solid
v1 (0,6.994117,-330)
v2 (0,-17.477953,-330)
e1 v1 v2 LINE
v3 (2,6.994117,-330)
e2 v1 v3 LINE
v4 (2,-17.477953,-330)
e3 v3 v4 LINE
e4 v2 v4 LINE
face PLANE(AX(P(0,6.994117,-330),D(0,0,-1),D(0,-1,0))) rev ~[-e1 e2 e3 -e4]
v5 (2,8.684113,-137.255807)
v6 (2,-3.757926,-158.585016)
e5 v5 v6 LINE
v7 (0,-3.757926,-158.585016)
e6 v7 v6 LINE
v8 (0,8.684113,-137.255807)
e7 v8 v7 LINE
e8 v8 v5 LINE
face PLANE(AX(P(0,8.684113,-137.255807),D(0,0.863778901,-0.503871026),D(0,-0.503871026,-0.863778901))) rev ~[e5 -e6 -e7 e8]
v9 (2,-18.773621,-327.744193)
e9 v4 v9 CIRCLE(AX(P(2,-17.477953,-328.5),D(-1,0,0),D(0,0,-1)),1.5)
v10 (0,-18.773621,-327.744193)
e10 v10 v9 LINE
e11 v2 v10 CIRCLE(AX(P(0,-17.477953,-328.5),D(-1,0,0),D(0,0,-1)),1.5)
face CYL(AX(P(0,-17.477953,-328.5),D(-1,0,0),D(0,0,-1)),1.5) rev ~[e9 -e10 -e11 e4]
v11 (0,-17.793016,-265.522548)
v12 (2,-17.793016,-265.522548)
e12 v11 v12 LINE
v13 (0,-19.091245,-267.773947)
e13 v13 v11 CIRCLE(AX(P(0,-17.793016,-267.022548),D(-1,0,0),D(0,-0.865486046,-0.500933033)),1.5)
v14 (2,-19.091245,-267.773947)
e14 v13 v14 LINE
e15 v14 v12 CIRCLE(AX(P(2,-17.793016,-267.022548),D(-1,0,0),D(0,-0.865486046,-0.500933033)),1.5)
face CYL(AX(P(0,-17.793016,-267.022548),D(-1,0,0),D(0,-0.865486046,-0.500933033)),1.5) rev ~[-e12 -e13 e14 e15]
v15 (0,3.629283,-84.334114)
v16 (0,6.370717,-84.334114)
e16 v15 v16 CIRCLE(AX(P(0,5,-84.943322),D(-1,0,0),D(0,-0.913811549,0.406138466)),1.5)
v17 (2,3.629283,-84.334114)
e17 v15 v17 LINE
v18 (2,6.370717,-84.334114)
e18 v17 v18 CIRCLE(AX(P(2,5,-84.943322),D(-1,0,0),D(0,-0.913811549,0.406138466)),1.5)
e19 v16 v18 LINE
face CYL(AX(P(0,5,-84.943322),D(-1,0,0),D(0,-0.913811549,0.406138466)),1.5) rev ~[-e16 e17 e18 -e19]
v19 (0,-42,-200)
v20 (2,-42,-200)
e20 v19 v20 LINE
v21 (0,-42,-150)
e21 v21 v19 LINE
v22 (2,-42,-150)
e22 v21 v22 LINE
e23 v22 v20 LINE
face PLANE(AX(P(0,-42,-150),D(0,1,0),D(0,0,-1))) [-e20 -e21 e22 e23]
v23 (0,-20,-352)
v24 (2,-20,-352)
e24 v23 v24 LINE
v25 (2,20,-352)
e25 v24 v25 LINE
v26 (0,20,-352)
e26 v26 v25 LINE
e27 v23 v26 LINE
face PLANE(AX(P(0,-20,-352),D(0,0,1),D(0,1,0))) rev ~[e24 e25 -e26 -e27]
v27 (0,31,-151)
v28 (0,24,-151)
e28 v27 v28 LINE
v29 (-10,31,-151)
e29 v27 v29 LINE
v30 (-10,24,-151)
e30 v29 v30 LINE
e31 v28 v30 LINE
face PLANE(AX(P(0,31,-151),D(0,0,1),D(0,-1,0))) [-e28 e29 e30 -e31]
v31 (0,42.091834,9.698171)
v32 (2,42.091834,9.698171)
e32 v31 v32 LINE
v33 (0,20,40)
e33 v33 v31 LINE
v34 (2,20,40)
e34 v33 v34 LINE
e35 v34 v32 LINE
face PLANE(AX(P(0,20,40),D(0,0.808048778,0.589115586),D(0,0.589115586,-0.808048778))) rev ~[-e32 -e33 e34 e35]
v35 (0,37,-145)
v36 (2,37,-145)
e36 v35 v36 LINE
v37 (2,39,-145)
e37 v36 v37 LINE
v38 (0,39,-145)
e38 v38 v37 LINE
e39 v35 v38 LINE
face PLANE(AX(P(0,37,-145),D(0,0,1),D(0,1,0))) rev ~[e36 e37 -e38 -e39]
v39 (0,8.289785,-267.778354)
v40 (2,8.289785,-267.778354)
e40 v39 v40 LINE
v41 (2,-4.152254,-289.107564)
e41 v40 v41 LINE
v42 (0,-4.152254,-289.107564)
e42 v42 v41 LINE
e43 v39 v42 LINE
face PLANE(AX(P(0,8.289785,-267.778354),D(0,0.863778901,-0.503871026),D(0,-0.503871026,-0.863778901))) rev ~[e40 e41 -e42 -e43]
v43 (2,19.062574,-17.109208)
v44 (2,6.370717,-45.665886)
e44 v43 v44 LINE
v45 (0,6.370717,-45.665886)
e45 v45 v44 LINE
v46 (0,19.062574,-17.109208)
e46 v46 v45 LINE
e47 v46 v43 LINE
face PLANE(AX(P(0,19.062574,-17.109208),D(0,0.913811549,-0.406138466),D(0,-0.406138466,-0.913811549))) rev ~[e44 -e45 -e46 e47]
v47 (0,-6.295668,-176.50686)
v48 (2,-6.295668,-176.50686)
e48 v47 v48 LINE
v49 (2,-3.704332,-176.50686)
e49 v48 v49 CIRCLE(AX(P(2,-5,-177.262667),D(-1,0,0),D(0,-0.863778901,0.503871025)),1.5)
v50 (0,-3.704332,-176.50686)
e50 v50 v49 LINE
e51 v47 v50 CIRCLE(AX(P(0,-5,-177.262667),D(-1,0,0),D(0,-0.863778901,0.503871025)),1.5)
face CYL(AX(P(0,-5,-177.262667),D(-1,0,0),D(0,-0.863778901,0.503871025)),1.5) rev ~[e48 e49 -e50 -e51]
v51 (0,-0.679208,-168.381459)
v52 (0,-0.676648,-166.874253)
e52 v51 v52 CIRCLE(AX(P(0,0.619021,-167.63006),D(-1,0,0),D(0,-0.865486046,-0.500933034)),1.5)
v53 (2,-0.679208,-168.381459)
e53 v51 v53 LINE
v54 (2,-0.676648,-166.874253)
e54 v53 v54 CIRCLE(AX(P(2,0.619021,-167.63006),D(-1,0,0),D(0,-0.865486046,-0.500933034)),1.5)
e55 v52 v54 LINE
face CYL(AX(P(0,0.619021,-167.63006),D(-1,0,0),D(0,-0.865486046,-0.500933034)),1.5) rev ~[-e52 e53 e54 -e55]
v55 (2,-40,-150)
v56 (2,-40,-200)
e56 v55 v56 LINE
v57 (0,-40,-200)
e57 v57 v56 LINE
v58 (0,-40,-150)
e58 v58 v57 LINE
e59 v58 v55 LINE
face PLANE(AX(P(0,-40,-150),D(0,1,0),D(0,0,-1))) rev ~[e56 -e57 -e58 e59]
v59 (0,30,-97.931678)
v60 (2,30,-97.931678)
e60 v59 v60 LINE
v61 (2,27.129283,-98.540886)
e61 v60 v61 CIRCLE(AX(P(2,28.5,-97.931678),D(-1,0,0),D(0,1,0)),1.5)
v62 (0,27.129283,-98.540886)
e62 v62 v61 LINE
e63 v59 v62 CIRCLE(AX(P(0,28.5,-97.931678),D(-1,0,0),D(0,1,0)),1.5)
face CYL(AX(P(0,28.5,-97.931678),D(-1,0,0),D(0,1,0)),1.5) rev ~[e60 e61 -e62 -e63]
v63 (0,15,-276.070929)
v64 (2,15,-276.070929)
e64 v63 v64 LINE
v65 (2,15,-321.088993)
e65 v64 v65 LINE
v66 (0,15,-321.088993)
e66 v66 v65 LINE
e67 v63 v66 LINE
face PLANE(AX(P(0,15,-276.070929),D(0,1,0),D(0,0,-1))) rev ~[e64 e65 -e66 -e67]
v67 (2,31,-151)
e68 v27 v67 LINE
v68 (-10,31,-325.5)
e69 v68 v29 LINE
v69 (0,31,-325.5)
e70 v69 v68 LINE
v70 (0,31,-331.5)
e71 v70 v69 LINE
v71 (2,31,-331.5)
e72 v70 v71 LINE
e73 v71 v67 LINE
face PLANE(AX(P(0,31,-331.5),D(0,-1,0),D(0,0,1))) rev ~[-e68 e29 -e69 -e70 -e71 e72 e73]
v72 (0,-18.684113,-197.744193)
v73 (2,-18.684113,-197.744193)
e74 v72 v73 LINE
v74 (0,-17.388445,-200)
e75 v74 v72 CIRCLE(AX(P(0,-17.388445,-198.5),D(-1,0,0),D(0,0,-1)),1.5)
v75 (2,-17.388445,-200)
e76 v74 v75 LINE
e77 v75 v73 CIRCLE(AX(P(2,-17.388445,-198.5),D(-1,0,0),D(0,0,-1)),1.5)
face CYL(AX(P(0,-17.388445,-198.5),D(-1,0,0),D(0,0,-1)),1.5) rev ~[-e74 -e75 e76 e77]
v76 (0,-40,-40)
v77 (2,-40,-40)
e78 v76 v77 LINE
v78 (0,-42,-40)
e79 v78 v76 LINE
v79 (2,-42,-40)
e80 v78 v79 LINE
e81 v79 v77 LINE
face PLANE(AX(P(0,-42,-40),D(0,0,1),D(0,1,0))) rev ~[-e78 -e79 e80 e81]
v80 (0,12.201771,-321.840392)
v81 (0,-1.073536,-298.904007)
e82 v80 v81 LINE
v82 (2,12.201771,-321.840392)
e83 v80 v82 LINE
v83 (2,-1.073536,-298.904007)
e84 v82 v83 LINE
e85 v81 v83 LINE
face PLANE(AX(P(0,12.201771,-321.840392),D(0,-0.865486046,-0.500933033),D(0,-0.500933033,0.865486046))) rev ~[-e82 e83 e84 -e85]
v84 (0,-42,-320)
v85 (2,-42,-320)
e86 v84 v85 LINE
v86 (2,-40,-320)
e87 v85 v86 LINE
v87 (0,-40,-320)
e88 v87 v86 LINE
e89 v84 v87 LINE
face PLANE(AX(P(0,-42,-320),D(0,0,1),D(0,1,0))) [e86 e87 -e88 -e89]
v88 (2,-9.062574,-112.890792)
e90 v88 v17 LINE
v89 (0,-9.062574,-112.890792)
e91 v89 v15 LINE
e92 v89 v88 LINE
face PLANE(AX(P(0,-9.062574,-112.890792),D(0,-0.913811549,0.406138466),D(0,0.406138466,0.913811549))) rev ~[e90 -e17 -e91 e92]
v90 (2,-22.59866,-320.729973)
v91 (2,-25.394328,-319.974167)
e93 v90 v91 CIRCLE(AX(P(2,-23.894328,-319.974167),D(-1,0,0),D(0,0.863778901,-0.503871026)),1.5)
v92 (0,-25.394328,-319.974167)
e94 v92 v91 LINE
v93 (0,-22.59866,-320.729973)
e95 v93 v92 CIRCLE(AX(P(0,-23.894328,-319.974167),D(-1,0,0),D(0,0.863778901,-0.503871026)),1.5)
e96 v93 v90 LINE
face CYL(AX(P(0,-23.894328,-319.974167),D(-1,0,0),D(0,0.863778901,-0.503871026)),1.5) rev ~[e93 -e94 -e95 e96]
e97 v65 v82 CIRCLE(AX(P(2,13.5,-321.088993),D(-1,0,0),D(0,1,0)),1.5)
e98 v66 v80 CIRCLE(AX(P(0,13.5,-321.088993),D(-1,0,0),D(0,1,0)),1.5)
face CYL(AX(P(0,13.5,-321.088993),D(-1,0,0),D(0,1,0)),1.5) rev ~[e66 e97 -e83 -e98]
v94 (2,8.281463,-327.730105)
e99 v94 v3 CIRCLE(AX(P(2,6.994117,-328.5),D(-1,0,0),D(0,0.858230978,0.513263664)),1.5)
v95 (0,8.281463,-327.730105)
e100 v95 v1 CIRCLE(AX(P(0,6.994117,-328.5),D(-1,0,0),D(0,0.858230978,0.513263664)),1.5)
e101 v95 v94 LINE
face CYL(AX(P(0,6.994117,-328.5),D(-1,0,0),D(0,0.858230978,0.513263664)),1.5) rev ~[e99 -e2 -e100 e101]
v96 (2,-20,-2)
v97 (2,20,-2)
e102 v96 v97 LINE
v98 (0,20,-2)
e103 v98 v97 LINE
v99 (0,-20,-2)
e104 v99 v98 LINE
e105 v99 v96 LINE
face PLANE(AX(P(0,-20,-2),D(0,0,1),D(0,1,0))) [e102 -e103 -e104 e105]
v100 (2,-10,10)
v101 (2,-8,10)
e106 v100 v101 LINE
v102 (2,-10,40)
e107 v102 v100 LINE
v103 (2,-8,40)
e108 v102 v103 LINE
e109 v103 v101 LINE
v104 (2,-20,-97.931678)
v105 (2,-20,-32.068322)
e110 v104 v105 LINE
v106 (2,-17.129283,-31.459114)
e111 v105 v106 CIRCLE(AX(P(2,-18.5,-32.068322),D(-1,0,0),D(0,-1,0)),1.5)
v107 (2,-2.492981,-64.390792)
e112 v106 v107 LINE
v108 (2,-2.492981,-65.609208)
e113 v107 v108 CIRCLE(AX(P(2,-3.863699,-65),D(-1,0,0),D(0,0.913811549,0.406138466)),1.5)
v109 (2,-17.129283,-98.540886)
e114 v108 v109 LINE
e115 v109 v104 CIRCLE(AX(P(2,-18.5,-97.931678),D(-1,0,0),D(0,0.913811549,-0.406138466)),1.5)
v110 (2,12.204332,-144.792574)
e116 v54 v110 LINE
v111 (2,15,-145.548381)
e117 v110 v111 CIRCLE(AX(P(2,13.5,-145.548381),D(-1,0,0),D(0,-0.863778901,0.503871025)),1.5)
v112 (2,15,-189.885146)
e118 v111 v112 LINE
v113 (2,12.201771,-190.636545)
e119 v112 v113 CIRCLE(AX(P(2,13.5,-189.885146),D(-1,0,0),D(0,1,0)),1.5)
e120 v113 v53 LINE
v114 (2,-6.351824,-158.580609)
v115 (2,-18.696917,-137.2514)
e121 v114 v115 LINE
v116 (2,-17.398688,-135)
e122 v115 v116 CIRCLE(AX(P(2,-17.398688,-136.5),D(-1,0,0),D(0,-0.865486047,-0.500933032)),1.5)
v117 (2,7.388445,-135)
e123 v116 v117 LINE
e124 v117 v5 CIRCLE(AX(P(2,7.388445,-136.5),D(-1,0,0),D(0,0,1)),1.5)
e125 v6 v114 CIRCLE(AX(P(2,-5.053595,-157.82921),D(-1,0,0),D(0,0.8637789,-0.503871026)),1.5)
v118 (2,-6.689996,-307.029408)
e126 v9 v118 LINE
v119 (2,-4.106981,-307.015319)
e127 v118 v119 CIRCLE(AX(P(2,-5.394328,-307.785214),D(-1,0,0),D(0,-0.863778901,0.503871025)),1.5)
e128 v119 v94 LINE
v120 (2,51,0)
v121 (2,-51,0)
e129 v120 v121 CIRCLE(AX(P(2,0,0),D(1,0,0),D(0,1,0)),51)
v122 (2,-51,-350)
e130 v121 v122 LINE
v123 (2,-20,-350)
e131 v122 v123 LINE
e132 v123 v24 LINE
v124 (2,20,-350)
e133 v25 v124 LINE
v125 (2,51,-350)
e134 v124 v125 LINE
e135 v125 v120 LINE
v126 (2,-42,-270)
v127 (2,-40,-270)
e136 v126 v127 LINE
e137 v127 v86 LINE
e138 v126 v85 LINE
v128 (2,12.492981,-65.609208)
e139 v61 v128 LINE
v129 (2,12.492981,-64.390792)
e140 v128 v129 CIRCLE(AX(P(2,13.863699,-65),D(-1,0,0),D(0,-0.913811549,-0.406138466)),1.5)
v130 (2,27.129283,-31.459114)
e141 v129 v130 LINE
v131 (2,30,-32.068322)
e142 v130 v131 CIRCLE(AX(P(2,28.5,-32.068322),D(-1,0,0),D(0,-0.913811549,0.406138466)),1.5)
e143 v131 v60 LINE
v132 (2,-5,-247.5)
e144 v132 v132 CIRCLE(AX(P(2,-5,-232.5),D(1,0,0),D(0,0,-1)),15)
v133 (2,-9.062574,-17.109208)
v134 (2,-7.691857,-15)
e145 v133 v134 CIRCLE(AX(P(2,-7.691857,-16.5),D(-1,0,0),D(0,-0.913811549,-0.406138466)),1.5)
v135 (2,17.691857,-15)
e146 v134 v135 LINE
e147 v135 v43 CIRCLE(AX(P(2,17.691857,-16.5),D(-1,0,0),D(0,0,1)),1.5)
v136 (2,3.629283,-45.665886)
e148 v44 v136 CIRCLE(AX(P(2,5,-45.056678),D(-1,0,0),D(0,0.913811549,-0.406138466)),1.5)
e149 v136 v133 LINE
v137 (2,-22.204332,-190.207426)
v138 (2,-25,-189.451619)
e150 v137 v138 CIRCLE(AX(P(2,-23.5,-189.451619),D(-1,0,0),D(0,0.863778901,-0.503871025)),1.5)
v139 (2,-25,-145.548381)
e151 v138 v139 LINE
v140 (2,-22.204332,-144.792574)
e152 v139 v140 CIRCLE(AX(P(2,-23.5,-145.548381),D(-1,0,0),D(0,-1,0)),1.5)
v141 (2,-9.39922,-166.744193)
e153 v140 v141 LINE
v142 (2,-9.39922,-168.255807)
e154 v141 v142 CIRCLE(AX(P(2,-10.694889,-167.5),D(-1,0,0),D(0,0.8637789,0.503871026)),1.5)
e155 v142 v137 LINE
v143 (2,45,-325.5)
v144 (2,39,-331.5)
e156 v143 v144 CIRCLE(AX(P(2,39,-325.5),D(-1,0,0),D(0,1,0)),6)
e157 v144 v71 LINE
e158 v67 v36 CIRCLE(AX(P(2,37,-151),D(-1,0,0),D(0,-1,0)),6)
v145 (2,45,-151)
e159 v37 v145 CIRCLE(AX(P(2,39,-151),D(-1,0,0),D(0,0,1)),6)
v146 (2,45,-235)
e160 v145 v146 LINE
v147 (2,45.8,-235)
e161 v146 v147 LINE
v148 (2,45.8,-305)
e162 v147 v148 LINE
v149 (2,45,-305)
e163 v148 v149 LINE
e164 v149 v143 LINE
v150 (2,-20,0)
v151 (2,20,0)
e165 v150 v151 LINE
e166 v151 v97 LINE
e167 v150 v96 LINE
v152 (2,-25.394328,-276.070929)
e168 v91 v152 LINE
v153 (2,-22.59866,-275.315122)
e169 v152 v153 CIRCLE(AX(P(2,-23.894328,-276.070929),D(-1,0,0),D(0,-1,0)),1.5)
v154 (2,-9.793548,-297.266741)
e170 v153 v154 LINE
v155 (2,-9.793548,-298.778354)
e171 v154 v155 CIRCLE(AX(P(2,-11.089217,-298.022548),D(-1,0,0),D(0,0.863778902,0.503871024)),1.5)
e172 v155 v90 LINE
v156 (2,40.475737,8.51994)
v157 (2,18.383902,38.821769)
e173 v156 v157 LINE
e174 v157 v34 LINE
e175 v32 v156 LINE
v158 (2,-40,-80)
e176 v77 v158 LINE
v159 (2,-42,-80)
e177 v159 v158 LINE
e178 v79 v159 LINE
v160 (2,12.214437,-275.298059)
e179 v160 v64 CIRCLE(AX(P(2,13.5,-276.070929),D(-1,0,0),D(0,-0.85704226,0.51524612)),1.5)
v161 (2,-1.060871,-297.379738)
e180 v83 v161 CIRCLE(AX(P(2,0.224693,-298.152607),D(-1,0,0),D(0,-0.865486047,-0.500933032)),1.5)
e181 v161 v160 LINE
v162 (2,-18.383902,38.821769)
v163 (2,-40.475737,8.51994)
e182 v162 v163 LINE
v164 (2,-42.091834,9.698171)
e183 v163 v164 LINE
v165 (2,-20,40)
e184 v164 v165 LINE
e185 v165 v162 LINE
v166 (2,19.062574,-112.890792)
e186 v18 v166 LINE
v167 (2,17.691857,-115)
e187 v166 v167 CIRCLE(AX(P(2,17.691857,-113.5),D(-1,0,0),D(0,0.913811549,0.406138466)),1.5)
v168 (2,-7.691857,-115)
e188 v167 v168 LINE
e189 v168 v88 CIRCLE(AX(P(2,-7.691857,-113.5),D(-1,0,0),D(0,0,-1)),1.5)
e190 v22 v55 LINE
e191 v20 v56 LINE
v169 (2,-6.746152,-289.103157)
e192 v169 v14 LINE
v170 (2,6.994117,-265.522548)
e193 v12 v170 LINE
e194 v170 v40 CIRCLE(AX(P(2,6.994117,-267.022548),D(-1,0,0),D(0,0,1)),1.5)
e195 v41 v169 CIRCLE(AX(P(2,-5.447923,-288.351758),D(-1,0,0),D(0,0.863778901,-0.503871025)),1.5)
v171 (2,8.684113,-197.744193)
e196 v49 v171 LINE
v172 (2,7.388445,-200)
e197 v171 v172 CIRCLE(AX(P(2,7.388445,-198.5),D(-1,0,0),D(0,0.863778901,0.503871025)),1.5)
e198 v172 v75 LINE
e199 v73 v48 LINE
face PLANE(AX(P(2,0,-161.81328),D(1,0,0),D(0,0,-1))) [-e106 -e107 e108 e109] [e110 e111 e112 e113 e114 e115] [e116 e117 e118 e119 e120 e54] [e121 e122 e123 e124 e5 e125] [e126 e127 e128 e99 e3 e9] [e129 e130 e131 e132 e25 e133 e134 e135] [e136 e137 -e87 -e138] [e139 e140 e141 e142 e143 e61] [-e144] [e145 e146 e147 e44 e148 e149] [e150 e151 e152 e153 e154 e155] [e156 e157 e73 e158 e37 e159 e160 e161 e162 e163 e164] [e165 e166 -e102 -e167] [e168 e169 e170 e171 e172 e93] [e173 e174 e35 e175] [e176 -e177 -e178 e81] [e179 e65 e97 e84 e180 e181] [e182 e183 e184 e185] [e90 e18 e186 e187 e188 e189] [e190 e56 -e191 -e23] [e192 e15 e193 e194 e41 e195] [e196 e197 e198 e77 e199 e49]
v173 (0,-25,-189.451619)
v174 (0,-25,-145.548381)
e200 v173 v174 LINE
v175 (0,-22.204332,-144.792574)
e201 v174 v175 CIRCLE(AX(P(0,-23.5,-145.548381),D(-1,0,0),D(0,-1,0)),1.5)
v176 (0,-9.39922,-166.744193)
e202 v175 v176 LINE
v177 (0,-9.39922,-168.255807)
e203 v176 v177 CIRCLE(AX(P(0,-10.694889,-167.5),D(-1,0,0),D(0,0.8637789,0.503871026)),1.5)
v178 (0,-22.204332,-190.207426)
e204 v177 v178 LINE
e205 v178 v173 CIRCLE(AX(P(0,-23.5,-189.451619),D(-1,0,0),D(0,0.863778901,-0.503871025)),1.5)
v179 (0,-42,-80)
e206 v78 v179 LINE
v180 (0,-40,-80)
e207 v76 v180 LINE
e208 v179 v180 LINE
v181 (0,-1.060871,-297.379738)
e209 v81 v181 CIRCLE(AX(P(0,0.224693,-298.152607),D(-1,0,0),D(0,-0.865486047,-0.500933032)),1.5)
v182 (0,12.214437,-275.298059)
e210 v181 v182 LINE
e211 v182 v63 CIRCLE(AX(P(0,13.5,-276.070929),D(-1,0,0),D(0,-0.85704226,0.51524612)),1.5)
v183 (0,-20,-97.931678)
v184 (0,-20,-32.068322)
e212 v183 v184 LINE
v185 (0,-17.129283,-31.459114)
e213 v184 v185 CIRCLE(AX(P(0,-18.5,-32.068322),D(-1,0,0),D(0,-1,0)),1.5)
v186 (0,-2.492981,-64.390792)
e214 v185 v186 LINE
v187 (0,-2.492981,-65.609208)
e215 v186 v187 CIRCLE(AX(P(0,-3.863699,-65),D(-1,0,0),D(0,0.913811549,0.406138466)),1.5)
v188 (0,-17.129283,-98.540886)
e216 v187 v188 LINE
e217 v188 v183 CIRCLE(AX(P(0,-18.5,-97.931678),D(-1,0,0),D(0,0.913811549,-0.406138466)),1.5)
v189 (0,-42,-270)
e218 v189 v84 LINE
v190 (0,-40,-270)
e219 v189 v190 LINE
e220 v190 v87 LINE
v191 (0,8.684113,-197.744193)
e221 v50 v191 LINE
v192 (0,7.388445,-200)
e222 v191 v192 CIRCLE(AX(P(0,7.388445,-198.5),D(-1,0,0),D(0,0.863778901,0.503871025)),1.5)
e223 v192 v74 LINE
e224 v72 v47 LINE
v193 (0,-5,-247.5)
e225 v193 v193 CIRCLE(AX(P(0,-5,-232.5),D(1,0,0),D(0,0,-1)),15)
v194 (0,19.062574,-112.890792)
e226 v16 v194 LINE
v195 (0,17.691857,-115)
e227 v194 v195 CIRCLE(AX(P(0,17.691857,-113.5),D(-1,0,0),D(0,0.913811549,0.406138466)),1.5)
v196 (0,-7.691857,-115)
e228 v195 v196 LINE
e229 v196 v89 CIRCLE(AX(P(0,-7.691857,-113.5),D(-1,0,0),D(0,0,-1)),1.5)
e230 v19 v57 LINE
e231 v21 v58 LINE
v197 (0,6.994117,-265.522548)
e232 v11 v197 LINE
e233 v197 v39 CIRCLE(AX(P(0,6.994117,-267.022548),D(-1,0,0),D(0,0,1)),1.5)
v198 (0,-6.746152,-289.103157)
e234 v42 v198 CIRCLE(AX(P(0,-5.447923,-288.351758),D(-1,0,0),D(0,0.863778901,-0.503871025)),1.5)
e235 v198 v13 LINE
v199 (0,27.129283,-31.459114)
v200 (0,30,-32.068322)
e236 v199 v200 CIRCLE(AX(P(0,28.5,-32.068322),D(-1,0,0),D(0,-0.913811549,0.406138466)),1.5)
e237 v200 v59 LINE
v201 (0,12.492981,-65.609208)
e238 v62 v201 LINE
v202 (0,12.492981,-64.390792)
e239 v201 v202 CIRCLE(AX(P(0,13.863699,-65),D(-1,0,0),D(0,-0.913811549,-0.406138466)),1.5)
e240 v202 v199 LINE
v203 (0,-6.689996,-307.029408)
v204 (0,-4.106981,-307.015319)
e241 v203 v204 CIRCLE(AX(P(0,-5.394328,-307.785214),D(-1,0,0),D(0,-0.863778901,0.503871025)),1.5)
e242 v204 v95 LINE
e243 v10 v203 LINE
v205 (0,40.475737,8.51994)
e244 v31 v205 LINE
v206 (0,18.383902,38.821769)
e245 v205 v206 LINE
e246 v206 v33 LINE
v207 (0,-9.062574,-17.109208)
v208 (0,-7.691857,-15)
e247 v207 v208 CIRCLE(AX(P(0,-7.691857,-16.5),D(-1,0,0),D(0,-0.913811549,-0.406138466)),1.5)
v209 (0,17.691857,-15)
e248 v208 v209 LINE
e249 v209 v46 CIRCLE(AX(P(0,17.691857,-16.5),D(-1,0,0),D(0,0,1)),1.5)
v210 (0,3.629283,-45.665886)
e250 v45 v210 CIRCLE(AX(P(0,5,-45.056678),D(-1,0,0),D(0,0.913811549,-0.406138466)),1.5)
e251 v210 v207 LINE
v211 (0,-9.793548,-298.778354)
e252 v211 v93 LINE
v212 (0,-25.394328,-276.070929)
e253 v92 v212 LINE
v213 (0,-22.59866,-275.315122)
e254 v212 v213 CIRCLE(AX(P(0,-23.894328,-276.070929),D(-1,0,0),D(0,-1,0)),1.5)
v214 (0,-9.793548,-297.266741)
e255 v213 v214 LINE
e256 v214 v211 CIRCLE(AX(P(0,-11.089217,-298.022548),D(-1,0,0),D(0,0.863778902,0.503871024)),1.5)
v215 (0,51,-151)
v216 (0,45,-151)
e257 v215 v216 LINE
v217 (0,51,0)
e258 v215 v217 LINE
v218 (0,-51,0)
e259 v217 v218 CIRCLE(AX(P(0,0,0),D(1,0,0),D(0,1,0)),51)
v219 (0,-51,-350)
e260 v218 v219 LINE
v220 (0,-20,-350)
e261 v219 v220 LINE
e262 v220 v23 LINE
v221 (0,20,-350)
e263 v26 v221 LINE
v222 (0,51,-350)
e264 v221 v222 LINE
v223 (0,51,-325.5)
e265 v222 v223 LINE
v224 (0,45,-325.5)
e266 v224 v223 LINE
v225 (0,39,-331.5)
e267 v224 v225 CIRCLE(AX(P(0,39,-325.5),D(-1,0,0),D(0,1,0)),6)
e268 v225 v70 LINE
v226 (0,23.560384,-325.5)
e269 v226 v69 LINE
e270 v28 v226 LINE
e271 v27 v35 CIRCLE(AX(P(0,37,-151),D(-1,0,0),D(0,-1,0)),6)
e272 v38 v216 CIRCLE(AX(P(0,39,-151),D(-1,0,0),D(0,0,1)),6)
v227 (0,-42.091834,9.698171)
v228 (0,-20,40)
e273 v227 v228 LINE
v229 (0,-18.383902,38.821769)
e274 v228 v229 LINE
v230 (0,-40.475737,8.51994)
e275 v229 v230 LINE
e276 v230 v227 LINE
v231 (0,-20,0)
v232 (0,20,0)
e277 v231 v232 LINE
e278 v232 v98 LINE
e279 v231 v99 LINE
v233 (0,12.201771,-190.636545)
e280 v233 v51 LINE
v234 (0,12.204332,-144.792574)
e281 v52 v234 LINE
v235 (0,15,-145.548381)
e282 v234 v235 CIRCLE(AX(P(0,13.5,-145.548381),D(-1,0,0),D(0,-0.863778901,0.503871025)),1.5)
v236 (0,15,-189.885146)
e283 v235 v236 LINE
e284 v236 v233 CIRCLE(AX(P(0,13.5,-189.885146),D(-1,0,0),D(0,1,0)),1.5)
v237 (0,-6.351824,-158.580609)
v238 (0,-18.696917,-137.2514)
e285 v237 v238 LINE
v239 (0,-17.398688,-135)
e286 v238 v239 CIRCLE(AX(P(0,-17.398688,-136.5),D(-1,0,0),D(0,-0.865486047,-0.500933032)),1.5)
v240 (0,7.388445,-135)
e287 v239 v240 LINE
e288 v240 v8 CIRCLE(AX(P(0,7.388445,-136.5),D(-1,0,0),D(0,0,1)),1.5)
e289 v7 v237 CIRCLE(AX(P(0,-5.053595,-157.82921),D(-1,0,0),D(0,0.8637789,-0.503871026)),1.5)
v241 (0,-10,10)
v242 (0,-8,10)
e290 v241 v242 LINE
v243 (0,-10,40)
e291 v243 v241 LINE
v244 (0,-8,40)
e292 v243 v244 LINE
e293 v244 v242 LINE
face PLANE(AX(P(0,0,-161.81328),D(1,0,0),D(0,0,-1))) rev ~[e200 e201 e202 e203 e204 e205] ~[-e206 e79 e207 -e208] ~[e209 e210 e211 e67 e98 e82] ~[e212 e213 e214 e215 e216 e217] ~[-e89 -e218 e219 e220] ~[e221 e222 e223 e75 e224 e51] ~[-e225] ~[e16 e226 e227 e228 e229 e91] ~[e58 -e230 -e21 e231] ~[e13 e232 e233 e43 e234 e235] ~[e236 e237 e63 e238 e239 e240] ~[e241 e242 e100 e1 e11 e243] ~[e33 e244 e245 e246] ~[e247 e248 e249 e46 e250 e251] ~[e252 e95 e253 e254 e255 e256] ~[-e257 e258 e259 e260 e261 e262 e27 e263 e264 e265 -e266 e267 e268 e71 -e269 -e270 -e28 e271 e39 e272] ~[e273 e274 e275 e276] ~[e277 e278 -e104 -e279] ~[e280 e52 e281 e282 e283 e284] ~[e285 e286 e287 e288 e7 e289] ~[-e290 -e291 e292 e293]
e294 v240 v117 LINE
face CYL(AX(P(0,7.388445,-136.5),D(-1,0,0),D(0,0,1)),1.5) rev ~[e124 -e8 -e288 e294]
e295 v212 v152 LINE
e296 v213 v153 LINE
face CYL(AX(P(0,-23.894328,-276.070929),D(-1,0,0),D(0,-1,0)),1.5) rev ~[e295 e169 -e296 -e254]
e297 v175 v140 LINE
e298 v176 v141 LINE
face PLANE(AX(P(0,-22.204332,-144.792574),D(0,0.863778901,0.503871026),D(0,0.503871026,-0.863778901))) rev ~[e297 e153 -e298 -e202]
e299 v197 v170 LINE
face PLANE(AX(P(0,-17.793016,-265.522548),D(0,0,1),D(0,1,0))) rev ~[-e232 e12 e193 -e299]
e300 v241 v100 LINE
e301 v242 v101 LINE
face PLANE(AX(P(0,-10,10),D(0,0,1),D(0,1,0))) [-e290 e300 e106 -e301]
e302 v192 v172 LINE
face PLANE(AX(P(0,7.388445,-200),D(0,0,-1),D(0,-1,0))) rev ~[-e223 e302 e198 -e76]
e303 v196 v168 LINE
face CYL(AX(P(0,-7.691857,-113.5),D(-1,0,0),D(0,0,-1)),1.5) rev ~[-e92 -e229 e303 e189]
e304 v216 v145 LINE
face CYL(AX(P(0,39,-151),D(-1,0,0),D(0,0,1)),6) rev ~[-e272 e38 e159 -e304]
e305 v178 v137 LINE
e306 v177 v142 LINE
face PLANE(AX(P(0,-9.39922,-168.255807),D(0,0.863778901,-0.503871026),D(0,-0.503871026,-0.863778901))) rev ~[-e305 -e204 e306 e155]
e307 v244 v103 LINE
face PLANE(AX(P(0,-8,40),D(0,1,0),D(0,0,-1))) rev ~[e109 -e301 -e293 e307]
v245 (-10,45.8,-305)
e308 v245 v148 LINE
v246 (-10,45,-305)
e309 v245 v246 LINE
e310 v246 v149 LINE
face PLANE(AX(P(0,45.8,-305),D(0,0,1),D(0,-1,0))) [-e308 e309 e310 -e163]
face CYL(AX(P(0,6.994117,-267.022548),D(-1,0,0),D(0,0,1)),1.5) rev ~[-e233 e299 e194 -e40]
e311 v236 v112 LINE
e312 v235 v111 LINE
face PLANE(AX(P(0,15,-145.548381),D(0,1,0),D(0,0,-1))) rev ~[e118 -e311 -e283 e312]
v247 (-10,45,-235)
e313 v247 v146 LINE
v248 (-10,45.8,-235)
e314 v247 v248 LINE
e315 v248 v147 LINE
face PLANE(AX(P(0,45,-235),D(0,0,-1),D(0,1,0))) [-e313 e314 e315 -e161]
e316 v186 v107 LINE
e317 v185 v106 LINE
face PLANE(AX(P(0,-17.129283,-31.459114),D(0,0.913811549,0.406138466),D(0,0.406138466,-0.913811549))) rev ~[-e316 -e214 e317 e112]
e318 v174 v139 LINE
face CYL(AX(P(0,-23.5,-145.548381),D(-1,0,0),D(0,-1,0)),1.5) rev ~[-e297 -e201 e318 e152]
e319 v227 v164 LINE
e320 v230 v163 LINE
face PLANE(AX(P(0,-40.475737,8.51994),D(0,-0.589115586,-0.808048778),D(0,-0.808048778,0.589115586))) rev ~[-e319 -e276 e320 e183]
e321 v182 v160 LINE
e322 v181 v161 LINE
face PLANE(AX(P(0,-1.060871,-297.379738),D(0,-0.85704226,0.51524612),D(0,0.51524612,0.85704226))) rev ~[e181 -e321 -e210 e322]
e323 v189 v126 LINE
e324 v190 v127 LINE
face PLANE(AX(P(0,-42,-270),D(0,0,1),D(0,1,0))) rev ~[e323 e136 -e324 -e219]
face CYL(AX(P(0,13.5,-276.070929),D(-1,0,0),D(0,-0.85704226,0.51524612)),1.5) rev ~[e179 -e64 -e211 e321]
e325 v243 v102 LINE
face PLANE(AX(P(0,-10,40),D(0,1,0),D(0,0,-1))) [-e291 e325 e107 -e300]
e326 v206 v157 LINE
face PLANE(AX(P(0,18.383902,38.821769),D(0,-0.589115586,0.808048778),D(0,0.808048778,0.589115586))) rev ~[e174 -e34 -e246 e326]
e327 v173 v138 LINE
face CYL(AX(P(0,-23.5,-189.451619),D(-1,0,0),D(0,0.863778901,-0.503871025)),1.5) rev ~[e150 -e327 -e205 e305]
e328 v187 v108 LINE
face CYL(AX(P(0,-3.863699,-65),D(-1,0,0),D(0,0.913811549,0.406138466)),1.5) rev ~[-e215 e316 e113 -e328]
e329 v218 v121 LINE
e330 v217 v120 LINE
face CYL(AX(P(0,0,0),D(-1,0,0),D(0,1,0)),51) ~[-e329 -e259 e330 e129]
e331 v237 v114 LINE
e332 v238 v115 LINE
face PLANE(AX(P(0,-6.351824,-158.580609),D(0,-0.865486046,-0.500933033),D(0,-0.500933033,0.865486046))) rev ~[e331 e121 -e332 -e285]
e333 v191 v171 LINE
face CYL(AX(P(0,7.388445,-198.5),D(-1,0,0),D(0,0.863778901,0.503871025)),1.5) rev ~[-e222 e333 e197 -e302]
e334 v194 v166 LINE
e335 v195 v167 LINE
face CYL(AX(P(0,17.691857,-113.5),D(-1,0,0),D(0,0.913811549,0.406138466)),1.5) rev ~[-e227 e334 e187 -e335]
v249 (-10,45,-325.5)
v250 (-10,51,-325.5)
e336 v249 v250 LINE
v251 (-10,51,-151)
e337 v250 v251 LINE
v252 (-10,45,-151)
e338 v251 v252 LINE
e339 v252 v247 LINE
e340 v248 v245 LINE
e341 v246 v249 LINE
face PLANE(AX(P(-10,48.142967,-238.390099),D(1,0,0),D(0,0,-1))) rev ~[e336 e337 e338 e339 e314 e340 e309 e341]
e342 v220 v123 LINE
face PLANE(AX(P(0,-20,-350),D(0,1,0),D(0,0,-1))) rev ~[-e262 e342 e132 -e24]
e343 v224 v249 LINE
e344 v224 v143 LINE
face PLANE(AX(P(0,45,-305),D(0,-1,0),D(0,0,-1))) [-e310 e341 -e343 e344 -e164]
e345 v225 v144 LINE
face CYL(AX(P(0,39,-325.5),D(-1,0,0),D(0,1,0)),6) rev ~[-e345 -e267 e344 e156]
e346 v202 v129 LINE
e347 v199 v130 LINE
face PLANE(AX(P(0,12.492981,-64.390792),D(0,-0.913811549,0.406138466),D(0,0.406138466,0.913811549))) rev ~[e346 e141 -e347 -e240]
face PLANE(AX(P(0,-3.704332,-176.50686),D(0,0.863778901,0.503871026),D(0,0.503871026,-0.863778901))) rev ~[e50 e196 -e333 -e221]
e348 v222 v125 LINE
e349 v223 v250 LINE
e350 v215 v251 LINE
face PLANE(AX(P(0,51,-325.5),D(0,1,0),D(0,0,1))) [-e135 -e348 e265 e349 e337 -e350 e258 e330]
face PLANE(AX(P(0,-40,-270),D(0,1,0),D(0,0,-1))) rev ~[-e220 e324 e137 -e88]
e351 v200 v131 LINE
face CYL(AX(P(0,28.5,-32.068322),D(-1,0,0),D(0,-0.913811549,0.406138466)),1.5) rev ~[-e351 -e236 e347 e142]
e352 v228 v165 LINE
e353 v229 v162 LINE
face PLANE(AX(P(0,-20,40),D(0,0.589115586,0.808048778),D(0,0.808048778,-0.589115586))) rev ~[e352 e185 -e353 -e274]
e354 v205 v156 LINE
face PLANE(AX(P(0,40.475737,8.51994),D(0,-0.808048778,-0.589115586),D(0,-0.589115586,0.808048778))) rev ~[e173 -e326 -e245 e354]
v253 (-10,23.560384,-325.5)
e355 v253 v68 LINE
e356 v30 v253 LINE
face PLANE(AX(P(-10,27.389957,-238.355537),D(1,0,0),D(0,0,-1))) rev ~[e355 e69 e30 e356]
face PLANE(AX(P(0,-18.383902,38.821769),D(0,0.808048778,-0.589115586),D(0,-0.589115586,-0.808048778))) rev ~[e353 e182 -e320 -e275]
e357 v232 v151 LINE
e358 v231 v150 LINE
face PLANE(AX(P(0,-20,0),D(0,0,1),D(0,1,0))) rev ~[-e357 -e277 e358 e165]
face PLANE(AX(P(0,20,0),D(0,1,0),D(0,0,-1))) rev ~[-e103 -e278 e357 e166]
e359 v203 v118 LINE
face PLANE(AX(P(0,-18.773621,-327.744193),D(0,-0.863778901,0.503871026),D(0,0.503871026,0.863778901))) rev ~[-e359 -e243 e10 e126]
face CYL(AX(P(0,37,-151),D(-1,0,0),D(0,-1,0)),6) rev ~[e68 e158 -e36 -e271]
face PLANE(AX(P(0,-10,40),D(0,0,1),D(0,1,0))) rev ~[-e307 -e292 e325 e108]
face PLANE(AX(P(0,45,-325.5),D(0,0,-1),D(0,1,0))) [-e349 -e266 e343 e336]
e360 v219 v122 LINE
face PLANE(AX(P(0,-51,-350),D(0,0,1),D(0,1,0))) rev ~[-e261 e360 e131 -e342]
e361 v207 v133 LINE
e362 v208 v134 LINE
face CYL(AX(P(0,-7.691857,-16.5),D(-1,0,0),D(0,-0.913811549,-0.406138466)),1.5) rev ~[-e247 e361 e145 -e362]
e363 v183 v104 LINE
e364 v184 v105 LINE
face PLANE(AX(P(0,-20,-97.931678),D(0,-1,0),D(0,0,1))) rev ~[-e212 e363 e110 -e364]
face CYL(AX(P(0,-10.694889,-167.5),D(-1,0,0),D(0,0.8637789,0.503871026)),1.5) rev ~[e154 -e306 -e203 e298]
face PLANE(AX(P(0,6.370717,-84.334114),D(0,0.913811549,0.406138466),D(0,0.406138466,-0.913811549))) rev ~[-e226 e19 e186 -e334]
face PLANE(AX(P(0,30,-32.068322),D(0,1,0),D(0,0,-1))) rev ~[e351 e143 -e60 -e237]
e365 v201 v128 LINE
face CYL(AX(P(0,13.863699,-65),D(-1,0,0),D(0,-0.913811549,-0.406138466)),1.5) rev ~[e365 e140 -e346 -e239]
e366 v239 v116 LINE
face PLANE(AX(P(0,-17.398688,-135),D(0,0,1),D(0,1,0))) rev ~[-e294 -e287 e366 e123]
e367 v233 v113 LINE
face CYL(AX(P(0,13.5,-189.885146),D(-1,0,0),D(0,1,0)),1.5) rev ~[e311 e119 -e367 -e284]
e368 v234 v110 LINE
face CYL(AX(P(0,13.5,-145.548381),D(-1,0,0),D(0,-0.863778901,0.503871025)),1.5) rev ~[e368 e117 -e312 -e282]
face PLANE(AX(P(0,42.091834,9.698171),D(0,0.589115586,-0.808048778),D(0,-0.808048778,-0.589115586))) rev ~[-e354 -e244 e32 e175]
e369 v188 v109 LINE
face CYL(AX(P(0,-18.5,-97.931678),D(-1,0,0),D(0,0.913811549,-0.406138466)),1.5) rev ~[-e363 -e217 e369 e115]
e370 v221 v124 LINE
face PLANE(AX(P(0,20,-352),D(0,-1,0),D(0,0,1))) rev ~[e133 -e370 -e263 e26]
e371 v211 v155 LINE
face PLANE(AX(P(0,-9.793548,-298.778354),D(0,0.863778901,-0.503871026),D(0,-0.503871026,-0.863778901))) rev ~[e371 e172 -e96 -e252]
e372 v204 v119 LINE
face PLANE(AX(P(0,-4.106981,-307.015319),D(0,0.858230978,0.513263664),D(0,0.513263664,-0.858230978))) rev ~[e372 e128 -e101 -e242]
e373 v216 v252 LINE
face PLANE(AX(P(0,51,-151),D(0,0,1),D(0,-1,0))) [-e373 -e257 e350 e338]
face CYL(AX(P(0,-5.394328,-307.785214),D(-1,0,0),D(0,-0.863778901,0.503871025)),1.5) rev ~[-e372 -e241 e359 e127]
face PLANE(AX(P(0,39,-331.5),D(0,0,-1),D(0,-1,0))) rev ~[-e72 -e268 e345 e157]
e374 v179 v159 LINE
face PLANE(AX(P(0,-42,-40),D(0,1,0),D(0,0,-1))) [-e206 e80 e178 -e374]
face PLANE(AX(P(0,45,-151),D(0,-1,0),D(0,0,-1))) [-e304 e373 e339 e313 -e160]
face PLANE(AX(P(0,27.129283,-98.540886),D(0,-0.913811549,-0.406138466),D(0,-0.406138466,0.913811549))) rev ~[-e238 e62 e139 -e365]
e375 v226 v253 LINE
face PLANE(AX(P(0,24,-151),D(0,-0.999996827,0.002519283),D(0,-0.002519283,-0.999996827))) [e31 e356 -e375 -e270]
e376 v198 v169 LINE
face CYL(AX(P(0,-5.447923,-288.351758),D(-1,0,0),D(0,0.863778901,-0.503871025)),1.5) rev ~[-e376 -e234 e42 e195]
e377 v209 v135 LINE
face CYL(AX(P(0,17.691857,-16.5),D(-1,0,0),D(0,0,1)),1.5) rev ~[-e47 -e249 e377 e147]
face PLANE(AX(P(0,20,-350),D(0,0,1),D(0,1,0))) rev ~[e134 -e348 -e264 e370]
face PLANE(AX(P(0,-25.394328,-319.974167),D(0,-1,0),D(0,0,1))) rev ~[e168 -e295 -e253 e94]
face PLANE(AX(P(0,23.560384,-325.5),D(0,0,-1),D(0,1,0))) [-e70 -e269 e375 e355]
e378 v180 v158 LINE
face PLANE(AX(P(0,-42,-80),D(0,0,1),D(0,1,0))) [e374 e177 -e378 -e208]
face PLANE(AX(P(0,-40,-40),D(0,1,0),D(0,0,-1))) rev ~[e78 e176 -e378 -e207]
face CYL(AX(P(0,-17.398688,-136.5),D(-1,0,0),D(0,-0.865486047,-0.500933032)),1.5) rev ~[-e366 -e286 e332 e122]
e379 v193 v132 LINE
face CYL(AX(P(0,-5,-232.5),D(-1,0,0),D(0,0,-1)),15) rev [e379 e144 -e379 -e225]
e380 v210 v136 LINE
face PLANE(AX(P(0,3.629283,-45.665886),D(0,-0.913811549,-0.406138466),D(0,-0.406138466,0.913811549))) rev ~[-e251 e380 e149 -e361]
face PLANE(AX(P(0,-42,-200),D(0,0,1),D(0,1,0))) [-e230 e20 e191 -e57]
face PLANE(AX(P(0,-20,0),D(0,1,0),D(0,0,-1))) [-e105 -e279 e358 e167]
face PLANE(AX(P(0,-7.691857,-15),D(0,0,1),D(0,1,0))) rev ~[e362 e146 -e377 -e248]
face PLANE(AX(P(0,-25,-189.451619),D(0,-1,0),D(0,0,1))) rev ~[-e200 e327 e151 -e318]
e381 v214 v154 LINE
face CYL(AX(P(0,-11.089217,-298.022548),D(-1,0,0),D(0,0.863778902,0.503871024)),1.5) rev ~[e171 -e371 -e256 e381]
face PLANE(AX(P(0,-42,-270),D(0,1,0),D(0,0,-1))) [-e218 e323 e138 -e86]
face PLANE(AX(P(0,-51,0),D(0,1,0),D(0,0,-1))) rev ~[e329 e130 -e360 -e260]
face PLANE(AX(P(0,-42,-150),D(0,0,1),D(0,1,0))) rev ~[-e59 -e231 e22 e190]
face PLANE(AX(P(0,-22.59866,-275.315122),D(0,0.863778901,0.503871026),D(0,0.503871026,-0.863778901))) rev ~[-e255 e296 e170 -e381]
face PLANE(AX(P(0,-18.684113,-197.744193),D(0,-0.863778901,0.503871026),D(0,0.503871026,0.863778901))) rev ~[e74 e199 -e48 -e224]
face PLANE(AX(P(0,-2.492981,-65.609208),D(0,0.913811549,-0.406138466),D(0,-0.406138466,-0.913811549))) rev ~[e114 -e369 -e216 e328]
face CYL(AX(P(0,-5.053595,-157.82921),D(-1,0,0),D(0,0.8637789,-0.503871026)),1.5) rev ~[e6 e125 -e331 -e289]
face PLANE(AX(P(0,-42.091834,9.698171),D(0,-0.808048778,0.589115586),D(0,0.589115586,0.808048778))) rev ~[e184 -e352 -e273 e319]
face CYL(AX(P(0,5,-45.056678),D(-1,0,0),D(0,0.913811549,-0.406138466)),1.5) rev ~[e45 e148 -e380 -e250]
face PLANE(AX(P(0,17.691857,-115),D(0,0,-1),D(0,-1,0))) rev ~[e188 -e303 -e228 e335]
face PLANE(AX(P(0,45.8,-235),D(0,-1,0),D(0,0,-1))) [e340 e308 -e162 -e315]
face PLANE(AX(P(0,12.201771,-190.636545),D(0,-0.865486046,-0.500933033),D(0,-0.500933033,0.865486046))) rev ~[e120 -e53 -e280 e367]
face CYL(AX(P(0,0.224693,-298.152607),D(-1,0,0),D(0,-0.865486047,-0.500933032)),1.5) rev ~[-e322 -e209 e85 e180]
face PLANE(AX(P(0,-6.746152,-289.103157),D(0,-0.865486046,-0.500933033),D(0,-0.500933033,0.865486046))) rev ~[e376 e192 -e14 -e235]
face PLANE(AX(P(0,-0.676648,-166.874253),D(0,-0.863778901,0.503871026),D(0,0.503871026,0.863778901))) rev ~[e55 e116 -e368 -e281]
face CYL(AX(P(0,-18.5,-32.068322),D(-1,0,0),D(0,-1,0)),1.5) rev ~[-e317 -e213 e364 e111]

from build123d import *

# Parameters (mm, degrees)
SKETCH_1_W      = 2
SKETCH_1_H      = 40
SKETCH_1_W_2    = 40
SKETCH_1_H_2    = 2
SKETCH_1_W_3    = 50
SKETCH_1_R      = 15
SKETCH_1_W_4    = 30
EXTRUDE_3_DEPTH = 2
EXTRUDE_4_DEPTH = 10


with BuildPart() as part:
    # 草图1 → 凸台-拉伸3 (new body)
    with BuildSketch(Plane(origin=(0, 0, 0), x_dir=(0, 0, -1), z_dir=(1, 0, 0))):
        with BuildLine():
            Line((350, 51), (0, 51))
            ThreePointArc((0, 51), (-51, 0), (0, -51))
            Line((0, -51), (350, -51))
            Line((350, -51), (350, -20))
            Line((350, -20), (352, -20))
            Line((352, -20), (352, 20))
            Line((352, 20), (350, 20))
            Line((350, 20), (350, 51))
        make_face()
        with BuildLine():
            ThreePointArc((145, 39), (146.757359313, 43.242640687), (151, 45))
            Line((151, 45), (235, 45))
            Line((235, 45), (235, 45.8))
            Line((235, 45.8), (305, 45.8))
            Line((305, 45.8), (305, 45))
            Line((305, 45), (325.5, 45))
            ThreePointArc((325.5, 45), (329.742640687, 43.242640687), (331.5, 39))
            Line((331.5, 39), (331.5, 31))
            Line((331.5, 31), (151, 31))
            ThreePointArc((151, 31), (146.757359313, 32.757359313), (145, 37))
            Line((145, 37), (145, 39))
        make_face(mode=Mode.SUBTRACT)
        with Locations((1, 0)):
            Rectangle(SKETCH_1_W, SKETCH_1_H, mode=Mode.SUBTRACT)
        with Locations((60, -41)):
            Rectangle(SKETCH_1_W_2, SKETCH_1_H_2, mode=Mode.SUBTRACT)
        with BuildLine():
            Line((97.931678324, -20), (32.068321676, -20))
            ThreePointArc((32.068321676, -20), (30.600998265, -18.811387231), (31.459113977, -17.129282677))
            Line((31.459113977, -17.129282677), (64.390792301, -2.4929812))
            ThreePointArc((64.390792301, -2.4929812), (65, -2.363698523), (65.609207699, -2.4929812))
            Line((65.609207699, -2.4929812), (98.540886023, -17.129282677))
            ThreePointArc((98.540886023, -17.129282677), (99.399001735, -18.811387231), (97.931678324, -20))
        make_face(mode=Mode.SUBTRACT)
        with BuildLine():
            Line((135, -17.39868764), (135, 7.388444501))
            ThreePointArc((135, 7.388444501), (135.75290891, 8.68915773), (137.255806538, 8.684112853))
            Line((137.255806538, 8.684112853), (158.585016393, -3.757926229))
            ThreePointArc((158.585016393, -3.757926229), (159.329207689, -5.056143052), (158.580609404, -6.35182365))
            Line((158.580609404, -6.35182365), (137.25139955, -18.69691671))
            ThreePointArc((137.25139955, -18.69691671), (135.750700102, -18.698129698), (135, -17.39868764))
        make_face(mode=Mode.SUBTRACT)
        with Locations((175, -41)):
            Rectangle(SKETCH_1_W_3, SKETCH_1_H_2, mode=Mode.SUBTRACT)
        with Locations((295, -41)):
            Rectangle(SKETCH_1_W_3, SKETCH_1_H_2, mode=Mode.SUBTRACT)
        with BuildLine():
            Line((189.451619145, -25), (145.548380855, -25))
            ThreePointArc((145.548380855, -25), (144.100364535, -23.891469969), (144.792574317, -22.204331649))
            Line((144.792574317, -22.204331649), (166.744193462, -9.399220481))
            ThreePointArc((166.744193462, -9.399220481), (167.5, -9.194888832), (168.255806538, -9.399220481))
            Line((168.255806538, -9.399220481), (190.207425683, -22.204331649))
            ThreePointArc((190.207425683, -22.204331649), (190.899635465, -23.891469969), (189.451619145, -25))
        make_face(mode=Mode.SUBTRACT)
        with BuildLine():
            ThreePointArc((197.744193462, 8.684112853), (199.24709109, 8.68915773), (200, 7.388444501))
            Line((200, 7.388444501), (200, -17.388444501))
            ThreePointArc((200, -17.388444501), (199.24709109, -18.68915773), (197.744193462, -18.684112853))
            Line((197.744193462, -18.684112853), (176.506860031, -6.295668351))
            ThreePointArc((176.506860031, -6.295668351), (175.762666569, -5), (176.506860031, -3.704331649))
            Line((176.506860031, -3.704331649), (197.744193462, 8.684112853))
        make_face(mode=Mode.SUBTRACT)
        with Locations((232.5, -5)):
            Circle(SKETCH_1_R, mode=Mode.SUBTRACT)
        with BuildLine():
            Line((319.974166797, -25.394327939), (276.070928507, -25.394327939))
            ThreePointArc((276.070928507, -25.394327939), (274.622912187, -24.285797907), (275.315121969, -22.598659587))
            Line((275.315121969, -22.598659587), (297.266741114, -9.793548419))
            ThreePointArc((297.266741114, -9.793548419), (298.022547652, -9.589216771), (298.778354191, -9.793548419))
            Line((298.778354191, -9.793548419), (320.729973336, -22.598659587))
            ThreePointArc((320.729973336, -22.598659587), (321.422183118, -24.285797907), (319.974166797, -25.394327939))
        make_face(mode=Mode.SUBTRACT)
        with BuildLine():
            Line((265.522547652, -17.793015579), (265.522547652, 6.994116563))
            ThreePointArc((265.522547652, 6.994116563), (266.275456563, 8.294829792), (267.778354191, 8.289784914))
            Line((267.778354191, 8.289784914), (289.107564045, -4.152254168))
            ThreePointArc((289.107564045, -4.152254168), (289.851755342, -5.45047099), (289.103157056, -6.746151588))
            Line((289.103157056, -6.746151588), (267.773947202, -19.091244648))
            ThreePointArc((267.773947202, -19.091244648), (266.273247754, -19.092457637), (265.522547652, -17.793015579))
        make_face(mode=Mode.SUBTRACT)
        with BuildLine():
            ThreePointArc((327.730104505, 8.28146303), (329.239985391, 8.298885363), (330, 6.994116563))
            Line((330, 6.994116563), (330, -17.477952976))
            ThreePointArc((330, -17.477952976), (329.24709109, -18.778666205), (327.744193462, -18.773621327))
            Line((327.744193462, -18.773621327), (307.029407683, -6.68999629))
            ThreePointArc((307.029407683, -6.68999629), (306.285236534, -5.40250951), (307.015318726, -4.106981472))
            Line((307.015318726, -4.106981472), (327.730104505, 8.28146303))
        make_face(mode=Mode.SUBTRACT)
        with BuildLine():
            Line((15, -7.691857033), (15, 17.691857033))
            ThreePointArc((15, 17.691857033), (15.682629689, 18.94959539), (17.109207699, 19.062574356))
            Line((17.109207699, 19.062574356), (45.665886023, 6.370717323))
            ThreePointArc((45.665886023, 6.370717323), (46.556678324, 5), (45.665886023, 3.629282677))
            Line((45.665886023, 3.629282677), (17.109207699, -9.062574356))
            ThreePointArc((17.109207699, -9.062574356), (15.682629689, -8.94959539), (15, -7.691857033))
        make_face(mode=Mode.SUBTRACT)
        with BuildLine():
            Line((112.890792301, -9.062574356), (84.334113977, 3.629282677))
            ThreePointArc((84.334113977, 3.629282677), (83.443321676, 5), (84.334113977, 6.370717323))
            Line((84.334113977, 6.370717323), (112.890792301, 19.062574356))
            ThreePointArc((112.890792301, 19.062574356), (114.317370311, 18.94959539), (115, 17.691857033))
            Line((115, 17.691857033), (115, -7.691857033))
            ThreePointArc((115, -7.691857033), (114.317370311, -8.94959539), (112.890792301, -9.062574356))
        make_face(mode=Mode.SUBTRACT)
        with BuildLine():
            ThreePointArc((31.459113977, 27.129282677), (30.600998265, 28.811387231), (32.068321676, 30))
            Line((32.068321676, 30), (97.931678324, 30))
            ThreePointArc((97.931678324, 30), (99.399001735, 28.811387231), (98.540886023, 27.129282677))
            Line((98.540886023, 27.129282677), (65.609207699, 12.4929812))
            ThreePointArc((65.609207699, 12.4929812), (65, 12.363698523), (64.390792301, 12.4929812))
            Line((64.390792301, 12.4929812), (31.459113977, 27.129282677))
        make_face(mode=Mode.SUBTRACT)
        with BuildLine():
            ThreePointArc((144.792574317, 12.204331649), (144.100364535, 13.891469969), (145.548380855, 15))
            Line((145.548380855, 15), (189.885145799, 15))
            ThreePointArc((189.885145799, 15), (191.333825129, 13.889009252), (190.636545348, 12.20177093))
            Line((190.636545348, 12.20177093), (168.381459159, -0.679208343))
            ThreePointArc((168.381459159, -0.679208343), (167.627511138, -0.880977109), (166.874253072, -0.676647625))
            Line((166.874253072, -0.676647625), (144.792574317, 12.204331649))
        make_face(mode=Mode.SUBTRACT)
        with BuildLine():
            ThreePointArc((275.298059327, 12.21443661), (274.625531488, 13.901032988), (276.070928507, 15))
            Line((276.070928507, 15), (321.088992758, 15))
            ThreePointArc((321.088992758, 15), (322.537672089, 13.889009252), (321.840392308, 12.20177093))
            Line((321.840392308, 12.20177093), (298.904006812, -1.073536282))
            ThreePointArc((298.904006812, -1.073536282), (298.140143671, -1.275255431), (297.379738082, -1.060870603))
            Line((297.379738082, -1.060870603), (275.298059327, 12.21443661))
        make_face(mode=Mode.SUBTRACT)
        Polygon((-40, 20), (-9.698170842, 42.091834457), (-8.519939671, 40.475736902), (-38.821768829, 18.383902445), align=None, mode=Mode.SUBTRACT)
        with Locations((-25, -9)):
            Rectangle(SKETCH_1_W_4, SKETCH_1_H_2, mode=Mode.SUBTRACT)
        Polygon((-40, -20), (-38.821768829, -18.383902445), (-8.519939671, -40.475736902), (-9.698170842, -42.091834457), align=None, mode=Mode.SUBTRACT)
    extrude(amount=EXTRUDE_3_DEPTH)

    # 草图2 → 凸台-拉伸4 (add)
    with BuildSketch(Plane(origin=(0, 0, 0), x_dir=(0, 0, -1), z_dir=(1, 0, 0))):
        Polygon((151, 51), (151, 45), (235, 45), (235, 45.8), (305, 45.8), (305, 45), (325.5, 45), (325.5, 51), align=None)
        Polygon((325.5, 31), (151, 31), (151, 24), (325.5, 23.560383637), align=None)
    extrude(amount=-EXTRUDE_4_DEPTH)


solid = part.part
